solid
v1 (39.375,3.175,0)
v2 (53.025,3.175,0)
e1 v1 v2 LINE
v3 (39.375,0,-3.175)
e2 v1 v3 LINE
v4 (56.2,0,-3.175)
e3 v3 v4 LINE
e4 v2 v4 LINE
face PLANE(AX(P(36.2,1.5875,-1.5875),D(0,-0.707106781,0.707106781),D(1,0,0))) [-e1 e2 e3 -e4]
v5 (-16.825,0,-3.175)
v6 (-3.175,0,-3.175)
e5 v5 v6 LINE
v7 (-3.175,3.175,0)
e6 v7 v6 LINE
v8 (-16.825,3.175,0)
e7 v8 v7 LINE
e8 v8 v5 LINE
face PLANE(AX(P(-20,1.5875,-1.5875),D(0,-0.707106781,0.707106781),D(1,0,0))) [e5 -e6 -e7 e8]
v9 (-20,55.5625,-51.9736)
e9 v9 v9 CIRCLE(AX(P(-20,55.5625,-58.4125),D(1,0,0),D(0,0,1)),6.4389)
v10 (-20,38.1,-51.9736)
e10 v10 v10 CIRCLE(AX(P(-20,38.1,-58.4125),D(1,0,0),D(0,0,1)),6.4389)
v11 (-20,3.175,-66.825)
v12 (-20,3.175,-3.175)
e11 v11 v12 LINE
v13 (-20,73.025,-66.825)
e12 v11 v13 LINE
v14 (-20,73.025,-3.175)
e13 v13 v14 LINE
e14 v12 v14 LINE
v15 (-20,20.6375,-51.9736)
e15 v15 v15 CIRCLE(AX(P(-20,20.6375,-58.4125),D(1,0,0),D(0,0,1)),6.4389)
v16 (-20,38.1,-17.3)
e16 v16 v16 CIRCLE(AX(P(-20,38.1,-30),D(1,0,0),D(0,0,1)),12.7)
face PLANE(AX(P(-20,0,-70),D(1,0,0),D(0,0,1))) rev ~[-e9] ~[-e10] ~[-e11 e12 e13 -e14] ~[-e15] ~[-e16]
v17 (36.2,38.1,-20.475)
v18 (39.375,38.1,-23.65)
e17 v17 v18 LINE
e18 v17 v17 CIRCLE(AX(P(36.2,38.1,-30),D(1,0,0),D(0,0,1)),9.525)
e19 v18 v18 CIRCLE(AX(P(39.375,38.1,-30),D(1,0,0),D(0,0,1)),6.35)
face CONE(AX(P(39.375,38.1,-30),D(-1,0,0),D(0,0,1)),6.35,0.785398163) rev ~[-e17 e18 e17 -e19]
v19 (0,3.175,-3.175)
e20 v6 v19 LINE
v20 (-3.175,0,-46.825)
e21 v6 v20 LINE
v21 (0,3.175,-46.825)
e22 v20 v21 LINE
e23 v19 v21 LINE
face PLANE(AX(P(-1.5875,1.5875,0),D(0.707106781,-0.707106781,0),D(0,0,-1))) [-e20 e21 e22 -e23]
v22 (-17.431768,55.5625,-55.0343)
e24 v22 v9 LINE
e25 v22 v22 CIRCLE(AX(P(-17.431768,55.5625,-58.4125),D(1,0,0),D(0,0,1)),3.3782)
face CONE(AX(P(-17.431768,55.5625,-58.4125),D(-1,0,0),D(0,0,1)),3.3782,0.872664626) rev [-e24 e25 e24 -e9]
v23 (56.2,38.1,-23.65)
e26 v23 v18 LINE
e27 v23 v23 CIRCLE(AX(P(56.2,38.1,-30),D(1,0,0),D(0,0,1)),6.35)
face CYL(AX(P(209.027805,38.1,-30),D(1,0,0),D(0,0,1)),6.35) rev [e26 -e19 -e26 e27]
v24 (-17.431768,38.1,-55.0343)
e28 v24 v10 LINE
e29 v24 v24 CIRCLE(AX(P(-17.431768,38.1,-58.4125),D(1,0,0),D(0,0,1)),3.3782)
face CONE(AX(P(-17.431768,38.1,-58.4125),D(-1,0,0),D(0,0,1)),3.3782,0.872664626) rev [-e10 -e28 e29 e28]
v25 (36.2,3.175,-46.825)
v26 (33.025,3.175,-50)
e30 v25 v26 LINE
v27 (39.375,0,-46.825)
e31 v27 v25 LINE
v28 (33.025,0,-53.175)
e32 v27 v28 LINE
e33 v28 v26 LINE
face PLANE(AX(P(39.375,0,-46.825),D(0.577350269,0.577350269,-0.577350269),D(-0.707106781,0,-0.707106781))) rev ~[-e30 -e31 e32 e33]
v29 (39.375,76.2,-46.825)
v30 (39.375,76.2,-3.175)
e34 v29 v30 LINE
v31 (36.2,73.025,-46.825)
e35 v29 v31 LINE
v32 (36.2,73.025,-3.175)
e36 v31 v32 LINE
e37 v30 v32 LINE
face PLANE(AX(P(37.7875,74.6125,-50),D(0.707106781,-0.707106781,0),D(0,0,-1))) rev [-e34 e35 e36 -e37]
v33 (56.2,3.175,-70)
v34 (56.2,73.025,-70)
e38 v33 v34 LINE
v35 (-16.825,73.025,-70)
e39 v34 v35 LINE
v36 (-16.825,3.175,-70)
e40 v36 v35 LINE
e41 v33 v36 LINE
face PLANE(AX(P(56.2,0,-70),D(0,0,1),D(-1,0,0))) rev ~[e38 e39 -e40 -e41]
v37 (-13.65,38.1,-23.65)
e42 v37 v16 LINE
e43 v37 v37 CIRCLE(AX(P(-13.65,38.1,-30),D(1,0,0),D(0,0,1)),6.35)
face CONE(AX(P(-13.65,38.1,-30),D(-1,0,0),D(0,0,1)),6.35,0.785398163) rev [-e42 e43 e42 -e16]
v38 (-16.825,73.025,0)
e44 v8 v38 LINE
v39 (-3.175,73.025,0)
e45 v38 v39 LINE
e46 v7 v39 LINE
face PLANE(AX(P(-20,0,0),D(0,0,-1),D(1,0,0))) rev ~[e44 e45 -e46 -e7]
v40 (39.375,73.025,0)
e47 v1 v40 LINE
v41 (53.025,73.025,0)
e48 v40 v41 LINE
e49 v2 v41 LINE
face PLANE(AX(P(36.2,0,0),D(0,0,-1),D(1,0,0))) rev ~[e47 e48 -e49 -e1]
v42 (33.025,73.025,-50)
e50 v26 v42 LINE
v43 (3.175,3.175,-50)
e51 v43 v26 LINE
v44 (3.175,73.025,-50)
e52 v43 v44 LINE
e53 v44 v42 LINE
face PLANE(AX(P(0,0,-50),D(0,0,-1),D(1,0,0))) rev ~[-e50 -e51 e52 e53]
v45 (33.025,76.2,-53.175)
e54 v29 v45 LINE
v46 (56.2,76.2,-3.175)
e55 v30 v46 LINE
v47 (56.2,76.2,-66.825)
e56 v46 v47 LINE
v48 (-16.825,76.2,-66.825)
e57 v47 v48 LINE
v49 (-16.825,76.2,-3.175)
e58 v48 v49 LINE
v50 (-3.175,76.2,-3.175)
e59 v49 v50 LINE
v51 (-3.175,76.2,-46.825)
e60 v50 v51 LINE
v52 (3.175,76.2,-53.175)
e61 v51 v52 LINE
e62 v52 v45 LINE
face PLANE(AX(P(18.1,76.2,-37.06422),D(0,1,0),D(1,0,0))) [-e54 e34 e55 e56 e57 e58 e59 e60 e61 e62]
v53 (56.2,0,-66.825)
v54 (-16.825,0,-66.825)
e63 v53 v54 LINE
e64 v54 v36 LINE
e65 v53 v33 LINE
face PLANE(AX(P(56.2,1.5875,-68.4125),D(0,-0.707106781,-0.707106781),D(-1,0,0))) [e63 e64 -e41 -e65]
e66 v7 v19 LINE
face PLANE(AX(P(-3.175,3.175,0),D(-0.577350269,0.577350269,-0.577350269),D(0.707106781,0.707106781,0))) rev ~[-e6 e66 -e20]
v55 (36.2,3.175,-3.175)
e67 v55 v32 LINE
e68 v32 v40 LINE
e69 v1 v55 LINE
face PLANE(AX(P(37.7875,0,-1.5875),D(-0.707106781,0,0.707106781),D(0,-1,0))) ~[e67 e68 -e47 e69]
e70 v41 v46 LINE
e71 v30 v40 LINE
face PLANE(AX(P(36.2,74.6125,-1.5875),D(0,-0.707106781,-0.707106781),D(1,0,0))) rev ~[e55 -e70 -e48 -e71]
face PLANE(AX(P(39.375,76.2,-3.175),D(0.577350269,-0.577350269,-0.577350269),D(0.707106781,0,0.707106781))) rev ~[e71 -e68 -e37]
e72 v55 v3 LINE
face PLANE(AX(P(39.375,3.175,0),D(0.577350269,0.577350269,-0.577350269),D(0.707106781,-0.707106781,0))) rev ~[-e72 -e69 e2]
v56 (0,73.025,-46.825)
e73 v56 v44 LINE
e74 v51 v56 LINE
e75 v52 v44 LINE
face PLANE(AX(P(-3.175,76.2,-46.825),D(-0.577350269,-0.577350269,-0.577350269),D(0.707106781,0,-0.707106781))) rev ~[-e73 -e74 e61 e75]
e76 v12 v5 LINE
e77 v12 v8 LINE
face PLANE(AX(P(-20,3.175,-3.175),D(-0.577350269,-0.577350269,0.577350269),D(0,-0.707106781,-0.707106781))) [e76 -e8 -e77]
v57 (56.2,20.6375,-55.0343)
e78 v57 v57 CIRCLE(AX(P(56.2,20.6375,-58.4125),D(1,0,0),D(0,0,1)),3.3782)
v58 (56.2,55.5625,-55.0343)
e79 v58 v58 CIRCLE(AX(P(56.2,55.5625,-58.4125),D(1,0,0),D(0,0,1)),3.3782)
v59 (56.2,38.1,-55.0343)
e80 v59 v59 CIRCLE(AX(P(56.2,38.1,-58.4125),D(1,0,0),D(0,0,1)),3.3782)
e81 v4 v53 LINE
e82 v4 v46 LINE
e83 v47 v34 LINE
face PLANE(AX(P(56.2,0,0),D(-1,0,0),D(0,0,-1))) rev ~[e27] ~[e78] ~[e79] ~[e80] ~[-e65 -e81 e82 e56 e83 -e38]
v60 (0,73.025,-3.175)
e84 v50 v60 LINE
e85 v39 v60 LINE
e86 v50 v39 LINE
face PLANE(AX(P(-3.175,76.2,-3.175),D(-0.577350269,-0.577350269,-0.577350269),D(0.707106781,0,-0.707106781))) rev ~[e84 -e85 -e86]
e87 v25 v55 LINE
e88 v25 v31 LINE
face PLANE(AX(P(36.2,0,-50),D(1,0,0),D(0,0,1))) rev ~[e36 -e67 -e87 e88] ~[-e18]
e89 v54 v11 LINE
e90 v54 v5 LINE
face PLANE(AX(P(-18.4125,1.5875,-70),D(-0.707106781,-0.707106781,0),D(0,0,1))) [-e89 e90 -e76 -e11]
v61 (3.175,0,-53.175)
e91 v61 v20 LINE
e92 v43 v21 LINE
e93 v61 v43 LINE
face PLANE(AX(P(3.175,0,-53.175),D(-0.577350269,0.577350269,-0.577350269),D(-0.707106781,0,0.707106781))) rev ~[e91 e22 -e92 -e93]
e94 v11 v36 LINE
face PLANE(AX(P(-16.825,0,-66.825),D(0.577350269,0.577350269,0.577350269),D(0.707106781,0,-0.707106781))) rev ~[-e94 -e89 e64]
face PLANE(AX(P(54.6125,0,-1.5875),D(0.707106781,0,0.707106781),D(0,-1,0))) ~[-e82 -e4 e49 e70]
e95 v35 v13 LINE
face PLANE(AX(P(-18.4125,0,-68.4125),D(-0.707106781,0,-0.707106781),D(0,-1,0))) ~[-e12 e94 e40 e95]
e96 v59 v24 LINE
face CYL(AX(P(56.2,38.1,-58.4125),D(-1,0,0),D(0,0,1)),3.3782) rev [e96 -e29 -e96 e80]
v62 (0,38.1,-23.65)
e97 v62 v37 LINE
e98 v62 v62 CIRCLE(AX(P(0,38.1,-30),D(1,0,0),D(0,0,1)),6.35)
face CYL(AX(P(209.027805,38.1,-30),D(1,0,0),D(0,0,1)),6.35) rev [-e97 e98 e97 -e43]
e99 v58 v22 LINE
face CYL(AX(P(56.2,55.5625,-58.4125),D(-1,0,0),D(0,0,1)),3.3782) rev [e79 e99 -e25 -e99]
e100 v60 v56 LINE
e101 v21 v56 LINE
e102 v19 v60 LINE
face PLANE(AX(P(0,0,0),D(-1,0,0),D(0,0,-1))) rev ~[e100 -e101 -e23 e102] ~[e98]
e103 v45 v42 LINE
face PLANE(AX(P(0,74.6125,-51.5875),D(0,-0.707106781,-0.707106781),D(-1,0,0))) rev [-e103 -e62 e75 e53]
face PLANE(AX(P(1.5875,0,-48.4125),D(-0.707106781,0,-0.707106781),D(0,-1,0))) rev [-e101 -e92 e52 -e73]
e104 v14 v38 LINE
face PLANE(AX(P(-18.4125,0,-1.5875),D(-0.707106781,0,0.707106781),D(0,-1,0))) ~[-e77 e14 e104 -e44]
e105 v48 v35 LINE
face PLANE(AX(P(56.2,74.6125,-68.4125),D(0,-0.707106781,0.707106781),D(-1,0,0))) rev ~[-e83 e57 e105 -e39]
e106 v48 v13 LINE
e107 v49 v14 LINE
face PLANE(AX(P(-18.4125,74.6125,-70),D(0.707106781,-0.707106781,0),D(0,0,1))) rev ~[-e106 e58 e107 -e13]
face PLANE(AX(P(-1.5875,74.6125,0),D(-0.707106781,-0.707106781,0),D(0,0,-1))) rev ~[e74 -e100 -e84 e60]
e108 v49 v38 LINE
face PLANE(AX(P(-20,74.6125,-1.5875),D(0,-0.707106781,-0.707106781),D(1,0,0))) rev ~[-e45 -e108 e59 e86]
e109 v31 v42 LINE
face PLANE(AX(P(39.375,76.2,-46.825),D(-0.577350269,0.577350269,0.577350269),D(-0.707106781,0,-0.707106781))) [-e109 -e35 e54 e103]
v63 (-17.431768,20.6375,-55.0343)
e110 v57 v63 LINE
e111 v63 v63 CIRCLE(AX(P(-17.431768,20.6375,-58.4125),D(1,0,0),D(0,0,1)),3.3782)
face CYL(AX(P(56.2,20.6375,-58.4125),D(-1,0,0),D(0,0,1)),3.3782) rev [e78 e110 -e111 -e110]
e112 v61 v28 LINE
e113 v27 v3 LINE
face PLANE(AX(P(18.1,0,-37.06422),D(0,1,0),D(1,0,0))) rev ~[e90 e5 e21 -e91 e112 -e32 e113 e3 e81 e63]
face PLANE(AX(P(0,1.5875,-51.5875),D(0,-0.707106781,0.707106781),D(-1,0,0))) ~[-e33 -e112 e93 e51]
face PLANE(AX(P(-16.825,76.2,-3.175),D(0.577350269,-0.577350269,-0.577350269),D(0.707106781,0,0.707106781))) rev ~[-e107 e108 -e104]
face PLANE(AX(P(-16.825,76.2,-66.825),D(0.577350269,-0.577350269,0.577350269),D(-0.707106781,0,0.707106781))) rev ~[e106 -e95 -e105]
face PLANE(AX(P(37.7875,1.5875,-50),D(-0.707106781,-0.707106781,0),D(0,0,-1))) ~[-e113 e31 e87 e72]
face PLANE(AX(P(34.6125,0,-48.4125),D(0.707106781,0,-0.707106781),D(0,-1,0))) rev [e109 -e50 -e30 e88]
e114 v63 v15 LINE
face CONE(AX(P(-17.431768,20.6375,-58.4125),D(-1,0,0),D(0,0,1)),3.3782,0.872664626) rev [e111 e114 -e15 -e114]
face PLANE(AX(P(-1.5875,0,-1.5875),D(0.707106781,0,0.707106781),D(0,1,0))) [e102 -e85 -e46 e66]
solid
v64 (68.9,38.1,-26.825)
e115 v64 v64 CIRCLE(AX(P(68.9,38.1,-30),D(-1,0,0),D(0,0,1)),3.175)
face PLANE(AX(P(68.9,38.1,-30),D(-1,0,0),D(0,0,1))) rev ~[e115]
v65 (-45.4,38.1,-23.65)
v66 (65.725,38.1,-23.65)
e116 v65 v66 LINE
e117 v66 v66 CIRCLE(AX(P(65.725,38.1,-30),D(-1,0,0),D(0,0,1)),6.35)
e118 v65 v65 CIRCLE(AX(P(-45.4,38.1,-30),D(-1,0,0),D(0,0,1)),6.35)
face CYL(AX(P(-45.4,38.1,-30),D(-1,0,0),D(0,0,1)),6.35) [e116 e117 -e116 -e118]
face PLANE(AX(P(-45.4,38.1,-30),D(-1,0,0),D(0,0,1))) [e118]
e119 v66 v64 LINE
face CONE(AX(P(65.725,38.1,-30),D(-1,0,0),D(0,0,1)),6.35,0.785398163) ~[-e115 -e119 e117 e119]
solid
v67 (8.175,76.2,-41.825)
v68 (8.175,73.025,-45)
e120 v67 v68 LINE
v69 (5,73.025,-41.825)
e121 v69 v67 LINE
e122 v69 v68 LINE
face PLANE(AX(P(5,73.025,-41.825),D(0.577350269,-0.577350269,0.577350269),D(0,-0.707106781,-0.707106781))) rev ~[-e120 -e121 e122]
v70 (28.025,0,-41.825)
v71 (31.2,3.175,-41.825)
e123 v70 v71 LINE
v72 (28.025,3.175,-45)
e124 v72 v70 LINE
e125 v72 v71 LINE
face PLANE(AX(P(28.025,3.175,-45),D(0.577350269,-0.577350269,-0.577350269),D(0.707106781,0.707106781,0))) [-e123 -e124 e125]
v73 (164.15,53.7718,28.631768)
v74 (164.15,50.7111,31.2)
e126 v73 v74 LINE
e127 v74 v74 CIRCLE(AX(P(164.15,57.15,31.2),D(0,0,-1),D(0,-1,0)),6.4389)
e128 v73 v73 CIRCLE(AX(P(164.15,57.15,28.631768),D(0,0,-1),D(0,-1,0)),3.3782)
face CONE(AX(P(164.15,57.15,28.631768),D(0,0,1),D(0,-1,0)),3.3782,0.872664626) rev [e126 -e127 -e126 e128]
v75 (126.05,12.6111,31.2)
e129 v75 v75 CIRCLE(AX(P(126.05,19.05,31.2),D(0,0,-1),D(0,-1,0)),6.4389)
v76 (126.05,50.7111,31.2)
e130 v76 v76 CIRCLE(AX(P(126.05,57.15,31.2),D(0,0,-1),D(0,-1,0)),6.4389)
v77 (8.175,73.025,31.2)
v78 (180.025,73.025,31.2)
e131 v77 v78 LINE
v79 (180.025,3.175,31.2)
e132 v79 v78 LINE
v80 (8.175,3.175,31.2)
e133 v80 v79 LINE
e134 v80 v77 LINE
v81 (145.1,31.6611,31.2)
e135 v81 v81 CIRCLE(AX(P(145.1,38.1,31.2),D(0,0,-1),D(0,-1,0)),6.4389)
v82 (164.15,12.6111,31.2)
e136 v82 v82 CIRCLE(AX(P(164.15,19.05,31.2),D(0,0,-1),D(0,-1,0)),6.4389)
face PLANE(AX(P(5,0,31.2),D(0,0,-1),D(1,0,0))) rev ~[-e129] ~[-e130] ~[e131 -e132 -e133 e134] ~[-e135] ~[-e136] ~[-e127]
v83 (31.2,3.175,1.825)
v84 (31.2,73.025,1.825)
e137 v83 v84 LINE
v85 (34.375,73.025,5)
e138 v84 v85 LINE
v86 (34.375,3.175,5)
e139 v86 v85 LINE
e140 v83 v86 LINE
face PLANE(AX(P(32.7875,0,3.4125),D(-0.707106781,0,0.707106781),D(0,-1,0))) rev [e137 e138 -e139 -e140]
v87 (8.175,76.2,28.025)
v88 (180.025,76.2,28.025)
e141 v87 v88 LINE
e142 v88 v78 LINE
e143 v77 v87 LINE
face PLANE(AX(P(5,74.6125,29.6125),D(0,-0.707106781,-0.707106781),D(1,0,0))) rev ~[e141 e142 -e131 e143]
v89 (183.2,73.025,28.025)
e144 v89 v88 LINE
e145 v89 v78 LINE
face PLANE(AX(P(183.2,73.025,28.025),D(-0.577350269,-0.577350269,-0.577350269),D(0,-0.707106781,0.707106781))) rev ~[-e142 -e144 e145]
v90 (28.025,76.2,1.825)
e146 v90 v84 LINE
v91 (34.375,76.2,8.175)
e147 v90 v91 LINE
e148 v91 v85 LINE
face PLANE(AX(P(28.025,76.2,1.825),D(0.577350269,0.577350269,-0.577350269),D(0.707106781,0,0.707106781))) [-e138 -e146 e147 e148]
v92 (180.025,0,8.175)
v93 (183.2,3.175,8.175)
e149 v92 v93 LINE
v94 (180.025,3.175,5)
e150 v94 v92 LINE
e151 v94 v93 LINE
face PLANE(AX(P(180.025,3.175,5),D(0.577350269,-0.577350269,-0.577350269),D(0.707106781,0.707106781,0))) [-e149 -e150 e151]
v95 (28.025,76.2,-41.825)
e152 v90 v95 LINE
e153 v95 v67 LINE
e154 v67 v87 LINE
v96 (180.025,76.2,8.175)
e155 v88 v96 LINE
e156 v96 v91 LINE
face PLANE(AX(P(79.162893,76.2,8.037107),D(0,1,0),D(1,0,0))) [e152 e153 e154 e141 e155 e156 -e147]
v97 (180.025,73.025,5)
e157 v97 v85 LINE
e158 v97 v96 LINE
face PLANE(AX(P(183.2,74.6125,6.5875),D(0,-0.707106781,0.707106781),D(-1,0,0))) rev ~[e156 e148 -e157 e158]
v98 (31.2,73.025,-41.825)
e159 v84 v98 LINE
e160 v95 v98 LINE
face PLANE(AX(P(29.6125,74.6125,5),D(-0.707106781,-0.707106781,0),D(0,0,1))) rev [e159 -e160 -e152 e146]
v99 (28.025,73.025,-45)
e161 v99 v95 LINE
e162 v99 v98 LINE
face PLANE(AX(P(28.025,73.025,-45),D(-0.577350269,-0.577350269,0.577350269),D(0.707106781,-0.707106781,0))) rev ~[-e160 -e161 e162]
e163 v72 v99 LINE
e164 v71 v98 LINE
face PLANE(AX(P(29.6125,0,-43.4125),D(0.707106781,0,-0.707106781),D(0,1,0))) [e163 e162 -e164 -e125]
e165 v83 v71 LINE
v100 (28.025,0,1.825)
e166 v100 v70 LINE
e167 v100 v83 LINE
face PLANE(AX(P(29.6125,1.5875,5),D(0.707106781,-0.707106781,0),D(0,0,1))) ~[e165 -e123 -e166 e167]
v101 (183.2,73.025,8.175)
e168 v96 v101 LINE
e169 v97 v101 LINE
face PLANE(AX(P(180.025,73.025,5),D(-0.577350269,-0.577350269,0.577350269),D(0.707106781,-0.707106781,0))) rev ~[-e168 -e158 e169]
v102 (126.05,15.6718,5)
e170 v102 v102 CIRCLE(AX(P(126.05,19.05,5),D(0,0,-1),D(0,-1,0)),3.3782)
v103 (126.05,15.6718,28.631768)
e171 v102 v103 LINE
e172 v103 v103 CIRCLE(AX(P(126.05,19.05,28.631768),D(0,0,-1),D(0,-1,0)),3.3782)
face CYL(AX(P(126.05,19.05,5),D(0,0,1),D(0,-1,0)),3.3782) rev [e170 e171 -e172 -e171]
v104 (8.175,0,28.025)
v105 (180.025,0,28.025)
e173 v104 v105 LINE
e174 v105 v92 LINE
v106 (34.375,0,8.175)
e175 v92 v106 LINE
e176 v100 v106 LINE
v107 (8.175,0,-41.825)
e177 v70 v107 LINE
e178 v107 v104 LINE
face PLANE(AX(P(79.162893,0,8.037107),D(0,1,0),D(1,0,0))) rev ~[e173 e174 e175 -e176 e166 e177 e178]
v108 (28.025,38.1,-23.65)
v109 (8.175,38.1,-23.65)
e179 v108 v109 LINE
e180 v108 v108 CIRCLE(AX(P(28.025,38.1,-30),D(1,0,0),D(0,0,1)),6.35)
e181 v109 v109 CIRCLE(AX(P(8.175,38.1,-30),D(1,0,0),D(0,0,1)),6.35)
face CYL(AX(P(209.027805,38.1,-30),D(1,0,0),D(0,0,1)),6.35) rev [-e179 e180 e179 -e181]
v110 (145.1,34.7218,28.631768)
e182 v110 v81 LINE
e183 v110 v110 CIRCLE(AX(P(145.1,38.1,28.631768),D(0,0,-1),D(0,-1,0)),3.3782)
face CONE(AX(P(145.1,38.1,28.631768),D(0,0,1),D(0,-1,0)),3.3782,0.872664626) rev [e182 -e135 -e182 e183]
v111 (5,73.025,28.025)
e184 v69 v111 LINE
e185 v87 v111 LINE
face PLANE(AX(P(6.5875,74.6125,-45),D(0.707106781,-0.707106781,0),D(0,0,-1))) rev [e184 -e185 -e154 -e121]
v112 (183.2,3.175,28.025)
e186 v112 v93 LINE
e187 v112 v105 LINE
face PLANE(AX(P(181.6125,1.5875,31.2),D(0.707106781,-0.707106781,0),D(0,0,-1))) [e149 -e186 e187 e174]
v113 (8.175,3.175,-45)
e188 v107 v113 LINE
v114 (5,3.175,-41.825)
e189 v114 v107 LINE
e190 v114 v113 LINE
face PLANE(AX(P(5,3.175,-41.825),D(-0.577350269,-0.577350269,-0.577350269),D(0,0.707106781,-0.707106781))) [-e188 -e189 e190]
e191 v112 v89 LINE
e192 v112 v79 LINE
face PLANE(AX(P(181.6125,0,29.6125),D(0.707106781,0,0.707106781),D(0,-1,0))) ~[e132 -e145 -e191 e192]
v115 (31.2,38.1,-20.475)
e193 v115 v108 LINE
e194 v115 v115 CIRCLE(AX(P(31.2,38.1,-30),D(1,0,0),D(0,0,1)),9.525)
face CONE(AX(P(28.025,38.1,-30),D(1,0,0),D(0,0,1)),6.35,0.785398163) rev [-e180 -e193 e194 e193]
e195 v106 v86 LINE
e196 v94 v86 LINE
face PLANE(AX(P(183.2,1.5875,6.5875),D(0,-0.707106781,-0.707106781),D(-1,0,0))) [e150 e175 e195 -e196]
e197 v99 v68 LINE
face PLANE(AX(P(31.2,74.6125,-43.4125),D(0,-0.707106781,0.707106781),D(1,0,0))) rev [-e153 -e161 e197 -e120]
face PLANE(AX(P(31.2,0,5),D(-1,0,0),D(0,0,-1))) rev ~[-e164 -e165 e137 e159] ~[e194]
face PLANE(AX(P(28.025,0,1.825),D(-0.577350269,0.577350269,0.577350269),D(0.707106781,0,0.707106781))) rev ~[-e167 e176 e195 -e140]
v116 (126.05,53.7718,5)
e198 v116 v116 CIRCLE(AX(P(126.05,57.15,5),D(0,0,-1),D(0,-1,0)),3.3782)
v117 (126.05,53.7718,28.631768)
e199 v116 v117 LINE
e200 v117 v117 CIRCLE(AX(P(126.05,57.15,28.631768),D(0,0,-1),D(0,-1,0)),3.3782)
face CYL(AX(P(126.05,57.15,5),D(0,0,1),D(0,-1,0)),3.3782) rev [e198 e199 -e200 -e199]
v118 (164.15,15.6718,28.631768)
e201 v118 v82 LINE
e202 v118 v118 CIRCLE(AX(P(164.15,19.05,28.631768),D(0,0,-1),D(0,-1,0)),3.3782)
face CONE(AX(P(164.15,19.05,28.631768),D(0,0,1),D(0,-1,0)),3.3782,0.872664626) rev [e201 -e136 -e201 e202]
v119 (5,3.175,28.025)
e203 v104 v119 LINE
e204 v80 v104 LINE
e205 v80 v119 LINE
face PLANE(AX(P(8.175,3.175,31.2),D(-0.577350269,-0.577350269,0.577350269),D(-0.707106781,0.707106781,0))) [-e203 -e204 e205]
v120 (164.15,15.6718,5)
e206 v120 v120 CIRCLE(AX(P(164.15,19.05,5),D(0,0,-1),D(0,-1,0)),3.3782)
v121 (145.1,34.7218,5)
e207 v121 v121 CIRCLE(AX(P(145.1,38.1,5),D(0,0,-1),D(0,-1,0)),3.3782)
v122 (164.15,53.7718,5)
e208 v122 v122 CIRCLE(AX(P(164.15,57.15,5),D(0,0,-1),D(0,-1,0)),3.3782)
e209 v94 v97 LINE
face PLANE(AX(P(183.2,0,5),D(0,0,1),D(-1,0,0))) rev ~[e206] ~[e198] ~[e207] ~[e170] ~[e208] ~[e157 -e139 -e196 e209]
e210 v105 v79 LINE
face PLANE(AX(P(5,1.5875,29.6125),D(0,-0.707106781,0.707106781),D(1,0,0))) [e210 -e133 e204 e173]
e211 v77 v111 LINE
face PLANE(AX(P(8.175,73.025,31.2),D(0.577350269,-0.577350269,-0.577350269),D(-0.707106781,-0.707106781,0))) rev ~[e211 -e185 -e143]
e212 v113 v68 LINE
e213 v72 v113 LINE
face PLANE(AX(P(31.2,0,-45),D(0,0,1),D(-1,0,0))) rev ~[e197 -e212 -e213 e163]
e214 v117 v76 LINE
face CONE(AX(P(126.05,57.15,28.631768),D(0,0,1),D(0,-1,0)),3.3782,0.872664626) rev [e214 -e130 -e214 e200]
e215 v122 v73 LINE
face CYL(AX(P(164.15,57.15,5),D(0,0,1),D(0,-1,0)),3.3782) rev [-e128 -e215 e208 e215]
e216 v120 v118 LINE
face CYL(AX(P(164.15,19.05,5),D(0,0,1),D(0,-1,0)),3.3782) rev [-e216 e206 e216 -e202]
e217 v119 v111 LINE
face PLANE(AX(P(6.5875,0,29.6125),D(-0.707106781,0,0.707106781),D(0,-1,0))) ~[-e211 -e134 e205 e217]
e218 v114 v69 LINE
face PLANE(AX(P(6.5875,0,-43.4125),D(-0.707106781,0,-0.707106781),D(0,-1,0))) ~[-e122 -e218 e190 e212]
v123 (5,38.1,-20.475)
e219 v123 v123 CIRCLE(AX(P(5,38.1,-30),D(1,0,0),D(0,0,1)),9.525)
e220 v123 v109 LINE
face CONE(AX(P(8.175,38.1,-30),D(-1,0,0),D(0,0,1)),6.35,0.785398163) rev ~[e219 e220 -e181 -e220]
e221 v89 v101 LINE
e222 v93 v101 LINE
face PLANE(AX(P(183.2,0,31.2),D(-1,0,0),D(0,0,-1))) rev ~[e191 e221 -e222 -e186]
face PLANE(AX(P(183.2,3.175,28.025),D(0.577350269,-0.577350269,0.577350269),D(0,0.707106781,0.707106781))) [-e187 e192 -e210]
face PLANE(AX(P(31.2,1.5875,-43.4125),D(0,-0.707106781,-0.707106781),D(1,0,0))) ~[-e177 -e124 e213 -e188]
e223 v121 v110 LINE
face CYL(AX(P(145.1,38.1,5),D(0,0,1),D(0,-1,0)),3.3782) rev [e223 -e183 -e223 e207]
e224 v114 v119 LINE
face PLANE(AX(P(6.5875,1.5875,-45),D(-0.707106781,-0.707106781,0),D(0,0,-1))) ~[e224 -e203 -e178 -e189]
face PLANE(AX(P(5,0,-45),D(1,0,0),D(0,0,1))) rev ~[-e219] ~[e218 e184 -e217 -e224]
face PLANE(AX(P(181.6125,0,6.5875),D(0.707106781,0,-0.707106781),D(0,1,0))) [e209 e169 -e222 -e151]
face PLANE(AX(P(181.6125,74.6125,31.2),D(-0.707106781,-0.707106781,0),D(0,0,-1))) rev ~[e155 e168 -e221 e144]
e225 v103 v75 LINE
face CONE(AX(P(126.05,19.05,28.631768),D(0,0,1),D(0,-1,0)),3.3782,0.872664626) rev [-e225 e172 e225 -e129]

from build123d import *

# Parameters (mm, degrees)
BOSS_EXTRUDE1_DEPTH                            = 76.2
BOSS_EXTRUDE1_2_DEPTH                          = 76.2
CUT_EXTRUDE1_DEPTH                             = 229.027805322
CUT_EXTRUDE1_DEPTH_BACK                        = 229.027805322
SKETCH3_R                                      = 6.35
CHAMFER1_SIZE                                  = 6.35
CHAMFER2_SIZE                                  = 3.175
CHAMFER3_SIZE                                  = 3.175
CHAMFER4_SIZE                                  = 3.175
CSK_FOR_1_4_FLAT_HEAD_MACHINE_SCREW_2_COUNT    = 2
CSK_FOR_1_4_FLAT_HEAD_MACHINE_SCREW_2_PITCH    = 26.940768363
CSK_FOR_1_4_FLAT_HEAD_MACHINE_SCREW_3_COUNT    = 2
CSK_FOR_1_4_FLAT_HEAD_MACHINE_SCREW_3_PITCH    = 38.1
CSK_FOR_1_4_FLAT_HEAD_MACHINE_SCREW_4_COUNT    = 2
CSK_FOR_1_4_FLAT_HEAD_MACHINE_SCREW_4_PITCH    = 53.881536726
CSK_FOR_1_4_FLAT_HEAD_MACHINE_SCREW_5_COUNT    = 2
CSK_FOR_1_4_FLAT_HEAD_MACHINE_SCREW_5_PITCH    = 38.1
SKETCH7_R                                      = 6.35
BOSS_EXTRUDE2_DEPTH                            = 88.9
BOSS_EXTRUDE3_START                            = 25.4
SKETCH7_2_R                                    = 6.35
BOSS_EXTRUDE3_DEPTH                            = 25.4
CSK_FOR_1_4_FLAT_HEAD_MACHINE_SCREW_6_AT_COUNT = 2
CSK_FOR_1_4_FLAT_HEAD_MACHINE_SCREW_6_AT_PITCH = 17.4625
CSK_FOR_1_4_FLAT_HEAD_MACHINE_SCREW_7_COUNT    = 2
CSK_FOR_1_4_FLAT_HEAD_MACHINE_SCREW_7_PITCH    = 34.925
CHAMFER5_SIZE                                  = 3.175


with BuildPart() as part:
    # Sketch1 → Boss-Extrude1 (new body)
    with BuildSketch(Plane(origin=(0, 0, 0), x_dir=(1, 0, 0), z_dir=(0, 1, 0))):
        Polygon((0, 0), (0, 50), (36.2, 50), (36.2, 0), (56.2, 0), (56.2, 70), (-20, 70), (-20, 0), align=None)
    extrude(amount=BOSS_EXTRUDE1_DEPTH)


with BuildPart() as body_2:
    # Sketch1 → Boss-Extrude1 2 (new body)
    with BuildSketch(Plane(origin=(0, 0, 0), x_dir=(1, 0, 0), z_dir=(0, 1, 0))):
        Polygon((31.2, 45), (5, 45), (5, -31.2), (183.2, -31.2), (183.2, -5), (31.2, -5), align=None)
    extrude(amount=BOSS_EXTRUDE1_2_DEPTH)


with BuildPart() as cut_extrude1_tool:
    # Sketch3 → Cut-Extrude1 (new, two sides: drawn at the far end of the back side and taken through both)
    with BuildSketch(Plane.ZY.offset(20).offset(-CUT_EXTRUDE1_DEPTH_BACK)):
        with Locations((-30, 38.1)):
            Circle(SKETCH3_R)
    extrude(amount=CUT_EXTRUDE1_DEPTH + CUT_EXTRUDE1_DEPTH_BACK)


with BuildPart() as part_1:
    add(part.part)

    # Cut-Extrude1: cut by cut_extrude1_tool
    add(cut_extrude1_tool.part, mode=Mode.SUBTRACT)

    # Chamfer1
    chamfer1_edges = [part_1.edges().sort_by_distance(p)[0] for p in [
        (-20, 38.1, -36.35),
    ]]
    chamfer(chamfer1_edges, length=CHAMFER1_SIZE)

    # Chamfer3
    chamfer3_edges = [part_1.edges().sort_by_distance(p)[0] for p in [
        (36.2, 38.1, -36.35),
    ]]
    chamfer(chamfer3_edges, length=CHAMFER3_SIZE)

    # Chamfer4
    chamfer4_edges = [part_1.edges().sort_by_distance(p)[0] for p in [
        (36.2, 0, -25),
        (18.1, 0, -50),
        (0, 0, -25),
        (-10, 0, 0),
        (18.1, 76.2, -50),
        (-20, 38.1, 0),
        (-20, 38.1, -70),
        (56.2, 38.1, 0),
        (36.2, 38.1, 0),
        (36.2, 38.1, -50),
        (0, 38.1, -50),
        (0, 38.1, 0),
        (36.2, 76.2, -25),
        (46.2, 76.2, 0),
        (18.1, 76.2, -70),
        (-20, 76.2, -35),
        (-10, 76.2, 0),
        (-20, 0, -35),
        (0, 76.2, -25),
        (18.1, 0, -70),
        (46.2, 0, 0),
    ]]
    chamfer(chamfer4_edges, length=CHAMFER4_SIZE)

    # Sketch9 → CSK for 1_4 Flat Head Machine Screw  6 (revolve, cut)
    with BuildSketch(Plane(origin=(-20, 20.6375, -58.4125), x_dir=(0, 0, 1), z_dir=(0, 1, 0))):
        Polygon((0, 0), (0, 78.229827343), (3.3782, 76.2), (3.3782, 2.568232241), (6.4389, 0), align=None)
    csk_for_1_4_flat_head_machine_screw_6 = revolve(axis=Axis((-26.35, 20.6375, -58.4125), (1, 0, 0)), mode=Mode.SUBTRACT)

    # CSK for 1_4 Flat Head Machine Screw 6 at: CSK for 1_4 Flat Head Machine Screw  6 ×2
    with Locations(*[(0, i * CSK_FOR_1_4_FLAT_HEAD_MACHINE_SCREW_6_AT_PITCH, 0) for i in range(1, CSK_FOR_1_4_FLAT_HEAD_MACHINE_SCREW_6_AT_COUNT)]):
        add(csk_for_1_4_flat_head_machine_screw_6, mode=Mode.SUBTRACT)

    # CSK for 1_4 Flat Head Machine Screw  7: CSK for 1_4 Flat Head Machine Screw  6 ×2
    with Locations(*[(0, i * CSK_FOR_1_4_FLAT_HEAD_MACHINE_SCREW_7_PITCH, 0) for i in range(1, CSK_FOR_1_4_FLAT_HEAD_MACHINE_SCREW_7_COUNT)]):
        add(csk_for_1_4_flat_head_machine_screw_6, mode=Mode.SUBTRACT)


with BuildPart() as body_2_1:
    add(body_2.part)

    # Cut-Extrude1: cut by cut_extrude1_tool
    add(cut_extrude1_tool.part, mode=Mode.SUBTRACT)

    # Chamfer2
    chamfer2_edges = [body_2_1.edges().sort_by_distance(p)[0] for p in [
        (5, 38.1, -36.35),
        (31.2, 38.1, -36.35),
        (31.2, 0, -20),
        (18.1, 0, -45),
        (5, 0, -6.9),
        (94.1, 0, 31.2),
        (183.2, 0, 18.1),
        (107.2, 0, 5),
        (31.2, 76.2, -20),
        (18.1, 76.2, -45),
        (5, 76.2, -6.9),
        (94.1, 76.2, 31.2),
        (183.2, 76.2, 18.1),
        (107.2, 76.2, 5),
        (31.2, 38.1, 5),
        (183.2, 38.1, 5),
        (183.2, 38.1, 31.2),
        (5, 38.1, 31.2),
        (5, 38.1, -45),
        (31.2, 38.1, -45),
    ]]
    chamfer(chamfer2_edges, length=CHAMFER2_SIZE)

    # Sketch6 → CSK for 1_4 Flat Head Machine Screw _100 (revolve, cut)
    with BuildSketch(Plane(origin=(126.05, 19.05, 31.2), x_dir=(0, -1, 0), z_dir=(1, 0, 0))):
        Polygon((0, 0), (0, 28.229827343), (3.3782, 26.2), (3.3782, 2.568232241), (6.4389, 0), align=None)
    csk_for_1_4_flat_head_machine_screw_100 = revolve(axis=Axis((126.05, 19.05, 37.55), (0, 0, -1)), mode=Mode.SUBTRACT)

    # CSK for 1_4 Flat Head Machine Screw  2: CSK for 1_4 Flat Head Machine Screw _100 ×2
    with Locations(*[Vector(0.7071067811865475, 0.7071067811865477, 0) * (i * CSK_FOR_1_4_FLAT_HEAD_MACHINE_SCREW_2_PITCH) for i in range(1, CSK_FOR_1_4_FLAT_HEAD_MACHINE_SCREW_2_COUNT)]):
        add(csk_for_1_4_flat_head_machine_screw_100, mode=Mode.SUBTRACT)

    # CSK for 1_4 Flat Head Machine Screw  3: CSK for 1_4 Flat Head Machine Screw _100 ×2
    with Locations(*[(0, i * CSK_FOR_1_4_FLAT_HEAD_MACHINE_SCREW_3_PITCH, 0) for i in range(1, CSK_FOR_1_4_FLAT_HEAD_MACHINE_SCREW_3_COUNT)]):
        add(csk_for_1_4_flat_head_machine_screw_100, mode=Mode.SUBTRACT)

    # CSK for 1_4 Flat Head Machine Screw  4: CSK for 1_4 Flat Head Machine Screw _100 ×2
    with Locations(*[Vector(0.7071067811865477, 0.7071067811865475, 0) * (i * CSK_FOR_1_4_FLAT_HEAD_MACHINE_SCREW_4_PITCH) for i in range(1, CSK_FOR_1_4_FLAT_HEAD_MACHINE_SCREW_4_COUNT)]):
        add(csk_for_1_4_flat_head_machine_screw_100, mode=Mode.SUBTRACT)

    # CSK for 1_4 Flat Head Machine Screw  5: CSK for 1_4 Flat Head Machine Screw _100 ×2
    with Locations(*[(i * CSK_FOR_1_4_FLAT_HEAD_MACHINE_SCREW_5_PITCH, 0, 0) for i in range(1, CSK_FOR_1_4_FLAT_HEAD_MACHINE_SCREW_5_COUNT)]):
        add(csk_for_1_4_flat_head_machine_screw_100, mode=Mode.SUBTRACT)


with BuildPart() as body_3:
    # Sketch7 → Boss-Extrude2 (new body)
    with BuildSketch(Plane.ZY.offset(20)):
        with Locations((-30, 38.1)):
            Circle(SKETCH7_R)
    extrude(amount=-BOSS_EXTRUDE2_DEPTH)

    # Sketch7<2> → Boss-Extrude3 (add)
    with BuildSketch(Plane.ZY.offset(20).offset(BOSS_EXTRUDE3_START)):
        with Locations((-30, 38.1)):
            Circle(SKETCH7_2_R)
    extrude(amount=-BOSS_EXTRUDE3_DEPTH)

    # Chamfer5
    chamfer5_edges = [body_3.edges().sort_by_distance(p)[0] for p in [
        (68.9, 38.1, -36.35),
    ]]
    chamfer(chamfer5_edges, length=CHAMFER5_SIZE)


solid = Compound([part_1.part, body_2_1.part, body_3.part])
